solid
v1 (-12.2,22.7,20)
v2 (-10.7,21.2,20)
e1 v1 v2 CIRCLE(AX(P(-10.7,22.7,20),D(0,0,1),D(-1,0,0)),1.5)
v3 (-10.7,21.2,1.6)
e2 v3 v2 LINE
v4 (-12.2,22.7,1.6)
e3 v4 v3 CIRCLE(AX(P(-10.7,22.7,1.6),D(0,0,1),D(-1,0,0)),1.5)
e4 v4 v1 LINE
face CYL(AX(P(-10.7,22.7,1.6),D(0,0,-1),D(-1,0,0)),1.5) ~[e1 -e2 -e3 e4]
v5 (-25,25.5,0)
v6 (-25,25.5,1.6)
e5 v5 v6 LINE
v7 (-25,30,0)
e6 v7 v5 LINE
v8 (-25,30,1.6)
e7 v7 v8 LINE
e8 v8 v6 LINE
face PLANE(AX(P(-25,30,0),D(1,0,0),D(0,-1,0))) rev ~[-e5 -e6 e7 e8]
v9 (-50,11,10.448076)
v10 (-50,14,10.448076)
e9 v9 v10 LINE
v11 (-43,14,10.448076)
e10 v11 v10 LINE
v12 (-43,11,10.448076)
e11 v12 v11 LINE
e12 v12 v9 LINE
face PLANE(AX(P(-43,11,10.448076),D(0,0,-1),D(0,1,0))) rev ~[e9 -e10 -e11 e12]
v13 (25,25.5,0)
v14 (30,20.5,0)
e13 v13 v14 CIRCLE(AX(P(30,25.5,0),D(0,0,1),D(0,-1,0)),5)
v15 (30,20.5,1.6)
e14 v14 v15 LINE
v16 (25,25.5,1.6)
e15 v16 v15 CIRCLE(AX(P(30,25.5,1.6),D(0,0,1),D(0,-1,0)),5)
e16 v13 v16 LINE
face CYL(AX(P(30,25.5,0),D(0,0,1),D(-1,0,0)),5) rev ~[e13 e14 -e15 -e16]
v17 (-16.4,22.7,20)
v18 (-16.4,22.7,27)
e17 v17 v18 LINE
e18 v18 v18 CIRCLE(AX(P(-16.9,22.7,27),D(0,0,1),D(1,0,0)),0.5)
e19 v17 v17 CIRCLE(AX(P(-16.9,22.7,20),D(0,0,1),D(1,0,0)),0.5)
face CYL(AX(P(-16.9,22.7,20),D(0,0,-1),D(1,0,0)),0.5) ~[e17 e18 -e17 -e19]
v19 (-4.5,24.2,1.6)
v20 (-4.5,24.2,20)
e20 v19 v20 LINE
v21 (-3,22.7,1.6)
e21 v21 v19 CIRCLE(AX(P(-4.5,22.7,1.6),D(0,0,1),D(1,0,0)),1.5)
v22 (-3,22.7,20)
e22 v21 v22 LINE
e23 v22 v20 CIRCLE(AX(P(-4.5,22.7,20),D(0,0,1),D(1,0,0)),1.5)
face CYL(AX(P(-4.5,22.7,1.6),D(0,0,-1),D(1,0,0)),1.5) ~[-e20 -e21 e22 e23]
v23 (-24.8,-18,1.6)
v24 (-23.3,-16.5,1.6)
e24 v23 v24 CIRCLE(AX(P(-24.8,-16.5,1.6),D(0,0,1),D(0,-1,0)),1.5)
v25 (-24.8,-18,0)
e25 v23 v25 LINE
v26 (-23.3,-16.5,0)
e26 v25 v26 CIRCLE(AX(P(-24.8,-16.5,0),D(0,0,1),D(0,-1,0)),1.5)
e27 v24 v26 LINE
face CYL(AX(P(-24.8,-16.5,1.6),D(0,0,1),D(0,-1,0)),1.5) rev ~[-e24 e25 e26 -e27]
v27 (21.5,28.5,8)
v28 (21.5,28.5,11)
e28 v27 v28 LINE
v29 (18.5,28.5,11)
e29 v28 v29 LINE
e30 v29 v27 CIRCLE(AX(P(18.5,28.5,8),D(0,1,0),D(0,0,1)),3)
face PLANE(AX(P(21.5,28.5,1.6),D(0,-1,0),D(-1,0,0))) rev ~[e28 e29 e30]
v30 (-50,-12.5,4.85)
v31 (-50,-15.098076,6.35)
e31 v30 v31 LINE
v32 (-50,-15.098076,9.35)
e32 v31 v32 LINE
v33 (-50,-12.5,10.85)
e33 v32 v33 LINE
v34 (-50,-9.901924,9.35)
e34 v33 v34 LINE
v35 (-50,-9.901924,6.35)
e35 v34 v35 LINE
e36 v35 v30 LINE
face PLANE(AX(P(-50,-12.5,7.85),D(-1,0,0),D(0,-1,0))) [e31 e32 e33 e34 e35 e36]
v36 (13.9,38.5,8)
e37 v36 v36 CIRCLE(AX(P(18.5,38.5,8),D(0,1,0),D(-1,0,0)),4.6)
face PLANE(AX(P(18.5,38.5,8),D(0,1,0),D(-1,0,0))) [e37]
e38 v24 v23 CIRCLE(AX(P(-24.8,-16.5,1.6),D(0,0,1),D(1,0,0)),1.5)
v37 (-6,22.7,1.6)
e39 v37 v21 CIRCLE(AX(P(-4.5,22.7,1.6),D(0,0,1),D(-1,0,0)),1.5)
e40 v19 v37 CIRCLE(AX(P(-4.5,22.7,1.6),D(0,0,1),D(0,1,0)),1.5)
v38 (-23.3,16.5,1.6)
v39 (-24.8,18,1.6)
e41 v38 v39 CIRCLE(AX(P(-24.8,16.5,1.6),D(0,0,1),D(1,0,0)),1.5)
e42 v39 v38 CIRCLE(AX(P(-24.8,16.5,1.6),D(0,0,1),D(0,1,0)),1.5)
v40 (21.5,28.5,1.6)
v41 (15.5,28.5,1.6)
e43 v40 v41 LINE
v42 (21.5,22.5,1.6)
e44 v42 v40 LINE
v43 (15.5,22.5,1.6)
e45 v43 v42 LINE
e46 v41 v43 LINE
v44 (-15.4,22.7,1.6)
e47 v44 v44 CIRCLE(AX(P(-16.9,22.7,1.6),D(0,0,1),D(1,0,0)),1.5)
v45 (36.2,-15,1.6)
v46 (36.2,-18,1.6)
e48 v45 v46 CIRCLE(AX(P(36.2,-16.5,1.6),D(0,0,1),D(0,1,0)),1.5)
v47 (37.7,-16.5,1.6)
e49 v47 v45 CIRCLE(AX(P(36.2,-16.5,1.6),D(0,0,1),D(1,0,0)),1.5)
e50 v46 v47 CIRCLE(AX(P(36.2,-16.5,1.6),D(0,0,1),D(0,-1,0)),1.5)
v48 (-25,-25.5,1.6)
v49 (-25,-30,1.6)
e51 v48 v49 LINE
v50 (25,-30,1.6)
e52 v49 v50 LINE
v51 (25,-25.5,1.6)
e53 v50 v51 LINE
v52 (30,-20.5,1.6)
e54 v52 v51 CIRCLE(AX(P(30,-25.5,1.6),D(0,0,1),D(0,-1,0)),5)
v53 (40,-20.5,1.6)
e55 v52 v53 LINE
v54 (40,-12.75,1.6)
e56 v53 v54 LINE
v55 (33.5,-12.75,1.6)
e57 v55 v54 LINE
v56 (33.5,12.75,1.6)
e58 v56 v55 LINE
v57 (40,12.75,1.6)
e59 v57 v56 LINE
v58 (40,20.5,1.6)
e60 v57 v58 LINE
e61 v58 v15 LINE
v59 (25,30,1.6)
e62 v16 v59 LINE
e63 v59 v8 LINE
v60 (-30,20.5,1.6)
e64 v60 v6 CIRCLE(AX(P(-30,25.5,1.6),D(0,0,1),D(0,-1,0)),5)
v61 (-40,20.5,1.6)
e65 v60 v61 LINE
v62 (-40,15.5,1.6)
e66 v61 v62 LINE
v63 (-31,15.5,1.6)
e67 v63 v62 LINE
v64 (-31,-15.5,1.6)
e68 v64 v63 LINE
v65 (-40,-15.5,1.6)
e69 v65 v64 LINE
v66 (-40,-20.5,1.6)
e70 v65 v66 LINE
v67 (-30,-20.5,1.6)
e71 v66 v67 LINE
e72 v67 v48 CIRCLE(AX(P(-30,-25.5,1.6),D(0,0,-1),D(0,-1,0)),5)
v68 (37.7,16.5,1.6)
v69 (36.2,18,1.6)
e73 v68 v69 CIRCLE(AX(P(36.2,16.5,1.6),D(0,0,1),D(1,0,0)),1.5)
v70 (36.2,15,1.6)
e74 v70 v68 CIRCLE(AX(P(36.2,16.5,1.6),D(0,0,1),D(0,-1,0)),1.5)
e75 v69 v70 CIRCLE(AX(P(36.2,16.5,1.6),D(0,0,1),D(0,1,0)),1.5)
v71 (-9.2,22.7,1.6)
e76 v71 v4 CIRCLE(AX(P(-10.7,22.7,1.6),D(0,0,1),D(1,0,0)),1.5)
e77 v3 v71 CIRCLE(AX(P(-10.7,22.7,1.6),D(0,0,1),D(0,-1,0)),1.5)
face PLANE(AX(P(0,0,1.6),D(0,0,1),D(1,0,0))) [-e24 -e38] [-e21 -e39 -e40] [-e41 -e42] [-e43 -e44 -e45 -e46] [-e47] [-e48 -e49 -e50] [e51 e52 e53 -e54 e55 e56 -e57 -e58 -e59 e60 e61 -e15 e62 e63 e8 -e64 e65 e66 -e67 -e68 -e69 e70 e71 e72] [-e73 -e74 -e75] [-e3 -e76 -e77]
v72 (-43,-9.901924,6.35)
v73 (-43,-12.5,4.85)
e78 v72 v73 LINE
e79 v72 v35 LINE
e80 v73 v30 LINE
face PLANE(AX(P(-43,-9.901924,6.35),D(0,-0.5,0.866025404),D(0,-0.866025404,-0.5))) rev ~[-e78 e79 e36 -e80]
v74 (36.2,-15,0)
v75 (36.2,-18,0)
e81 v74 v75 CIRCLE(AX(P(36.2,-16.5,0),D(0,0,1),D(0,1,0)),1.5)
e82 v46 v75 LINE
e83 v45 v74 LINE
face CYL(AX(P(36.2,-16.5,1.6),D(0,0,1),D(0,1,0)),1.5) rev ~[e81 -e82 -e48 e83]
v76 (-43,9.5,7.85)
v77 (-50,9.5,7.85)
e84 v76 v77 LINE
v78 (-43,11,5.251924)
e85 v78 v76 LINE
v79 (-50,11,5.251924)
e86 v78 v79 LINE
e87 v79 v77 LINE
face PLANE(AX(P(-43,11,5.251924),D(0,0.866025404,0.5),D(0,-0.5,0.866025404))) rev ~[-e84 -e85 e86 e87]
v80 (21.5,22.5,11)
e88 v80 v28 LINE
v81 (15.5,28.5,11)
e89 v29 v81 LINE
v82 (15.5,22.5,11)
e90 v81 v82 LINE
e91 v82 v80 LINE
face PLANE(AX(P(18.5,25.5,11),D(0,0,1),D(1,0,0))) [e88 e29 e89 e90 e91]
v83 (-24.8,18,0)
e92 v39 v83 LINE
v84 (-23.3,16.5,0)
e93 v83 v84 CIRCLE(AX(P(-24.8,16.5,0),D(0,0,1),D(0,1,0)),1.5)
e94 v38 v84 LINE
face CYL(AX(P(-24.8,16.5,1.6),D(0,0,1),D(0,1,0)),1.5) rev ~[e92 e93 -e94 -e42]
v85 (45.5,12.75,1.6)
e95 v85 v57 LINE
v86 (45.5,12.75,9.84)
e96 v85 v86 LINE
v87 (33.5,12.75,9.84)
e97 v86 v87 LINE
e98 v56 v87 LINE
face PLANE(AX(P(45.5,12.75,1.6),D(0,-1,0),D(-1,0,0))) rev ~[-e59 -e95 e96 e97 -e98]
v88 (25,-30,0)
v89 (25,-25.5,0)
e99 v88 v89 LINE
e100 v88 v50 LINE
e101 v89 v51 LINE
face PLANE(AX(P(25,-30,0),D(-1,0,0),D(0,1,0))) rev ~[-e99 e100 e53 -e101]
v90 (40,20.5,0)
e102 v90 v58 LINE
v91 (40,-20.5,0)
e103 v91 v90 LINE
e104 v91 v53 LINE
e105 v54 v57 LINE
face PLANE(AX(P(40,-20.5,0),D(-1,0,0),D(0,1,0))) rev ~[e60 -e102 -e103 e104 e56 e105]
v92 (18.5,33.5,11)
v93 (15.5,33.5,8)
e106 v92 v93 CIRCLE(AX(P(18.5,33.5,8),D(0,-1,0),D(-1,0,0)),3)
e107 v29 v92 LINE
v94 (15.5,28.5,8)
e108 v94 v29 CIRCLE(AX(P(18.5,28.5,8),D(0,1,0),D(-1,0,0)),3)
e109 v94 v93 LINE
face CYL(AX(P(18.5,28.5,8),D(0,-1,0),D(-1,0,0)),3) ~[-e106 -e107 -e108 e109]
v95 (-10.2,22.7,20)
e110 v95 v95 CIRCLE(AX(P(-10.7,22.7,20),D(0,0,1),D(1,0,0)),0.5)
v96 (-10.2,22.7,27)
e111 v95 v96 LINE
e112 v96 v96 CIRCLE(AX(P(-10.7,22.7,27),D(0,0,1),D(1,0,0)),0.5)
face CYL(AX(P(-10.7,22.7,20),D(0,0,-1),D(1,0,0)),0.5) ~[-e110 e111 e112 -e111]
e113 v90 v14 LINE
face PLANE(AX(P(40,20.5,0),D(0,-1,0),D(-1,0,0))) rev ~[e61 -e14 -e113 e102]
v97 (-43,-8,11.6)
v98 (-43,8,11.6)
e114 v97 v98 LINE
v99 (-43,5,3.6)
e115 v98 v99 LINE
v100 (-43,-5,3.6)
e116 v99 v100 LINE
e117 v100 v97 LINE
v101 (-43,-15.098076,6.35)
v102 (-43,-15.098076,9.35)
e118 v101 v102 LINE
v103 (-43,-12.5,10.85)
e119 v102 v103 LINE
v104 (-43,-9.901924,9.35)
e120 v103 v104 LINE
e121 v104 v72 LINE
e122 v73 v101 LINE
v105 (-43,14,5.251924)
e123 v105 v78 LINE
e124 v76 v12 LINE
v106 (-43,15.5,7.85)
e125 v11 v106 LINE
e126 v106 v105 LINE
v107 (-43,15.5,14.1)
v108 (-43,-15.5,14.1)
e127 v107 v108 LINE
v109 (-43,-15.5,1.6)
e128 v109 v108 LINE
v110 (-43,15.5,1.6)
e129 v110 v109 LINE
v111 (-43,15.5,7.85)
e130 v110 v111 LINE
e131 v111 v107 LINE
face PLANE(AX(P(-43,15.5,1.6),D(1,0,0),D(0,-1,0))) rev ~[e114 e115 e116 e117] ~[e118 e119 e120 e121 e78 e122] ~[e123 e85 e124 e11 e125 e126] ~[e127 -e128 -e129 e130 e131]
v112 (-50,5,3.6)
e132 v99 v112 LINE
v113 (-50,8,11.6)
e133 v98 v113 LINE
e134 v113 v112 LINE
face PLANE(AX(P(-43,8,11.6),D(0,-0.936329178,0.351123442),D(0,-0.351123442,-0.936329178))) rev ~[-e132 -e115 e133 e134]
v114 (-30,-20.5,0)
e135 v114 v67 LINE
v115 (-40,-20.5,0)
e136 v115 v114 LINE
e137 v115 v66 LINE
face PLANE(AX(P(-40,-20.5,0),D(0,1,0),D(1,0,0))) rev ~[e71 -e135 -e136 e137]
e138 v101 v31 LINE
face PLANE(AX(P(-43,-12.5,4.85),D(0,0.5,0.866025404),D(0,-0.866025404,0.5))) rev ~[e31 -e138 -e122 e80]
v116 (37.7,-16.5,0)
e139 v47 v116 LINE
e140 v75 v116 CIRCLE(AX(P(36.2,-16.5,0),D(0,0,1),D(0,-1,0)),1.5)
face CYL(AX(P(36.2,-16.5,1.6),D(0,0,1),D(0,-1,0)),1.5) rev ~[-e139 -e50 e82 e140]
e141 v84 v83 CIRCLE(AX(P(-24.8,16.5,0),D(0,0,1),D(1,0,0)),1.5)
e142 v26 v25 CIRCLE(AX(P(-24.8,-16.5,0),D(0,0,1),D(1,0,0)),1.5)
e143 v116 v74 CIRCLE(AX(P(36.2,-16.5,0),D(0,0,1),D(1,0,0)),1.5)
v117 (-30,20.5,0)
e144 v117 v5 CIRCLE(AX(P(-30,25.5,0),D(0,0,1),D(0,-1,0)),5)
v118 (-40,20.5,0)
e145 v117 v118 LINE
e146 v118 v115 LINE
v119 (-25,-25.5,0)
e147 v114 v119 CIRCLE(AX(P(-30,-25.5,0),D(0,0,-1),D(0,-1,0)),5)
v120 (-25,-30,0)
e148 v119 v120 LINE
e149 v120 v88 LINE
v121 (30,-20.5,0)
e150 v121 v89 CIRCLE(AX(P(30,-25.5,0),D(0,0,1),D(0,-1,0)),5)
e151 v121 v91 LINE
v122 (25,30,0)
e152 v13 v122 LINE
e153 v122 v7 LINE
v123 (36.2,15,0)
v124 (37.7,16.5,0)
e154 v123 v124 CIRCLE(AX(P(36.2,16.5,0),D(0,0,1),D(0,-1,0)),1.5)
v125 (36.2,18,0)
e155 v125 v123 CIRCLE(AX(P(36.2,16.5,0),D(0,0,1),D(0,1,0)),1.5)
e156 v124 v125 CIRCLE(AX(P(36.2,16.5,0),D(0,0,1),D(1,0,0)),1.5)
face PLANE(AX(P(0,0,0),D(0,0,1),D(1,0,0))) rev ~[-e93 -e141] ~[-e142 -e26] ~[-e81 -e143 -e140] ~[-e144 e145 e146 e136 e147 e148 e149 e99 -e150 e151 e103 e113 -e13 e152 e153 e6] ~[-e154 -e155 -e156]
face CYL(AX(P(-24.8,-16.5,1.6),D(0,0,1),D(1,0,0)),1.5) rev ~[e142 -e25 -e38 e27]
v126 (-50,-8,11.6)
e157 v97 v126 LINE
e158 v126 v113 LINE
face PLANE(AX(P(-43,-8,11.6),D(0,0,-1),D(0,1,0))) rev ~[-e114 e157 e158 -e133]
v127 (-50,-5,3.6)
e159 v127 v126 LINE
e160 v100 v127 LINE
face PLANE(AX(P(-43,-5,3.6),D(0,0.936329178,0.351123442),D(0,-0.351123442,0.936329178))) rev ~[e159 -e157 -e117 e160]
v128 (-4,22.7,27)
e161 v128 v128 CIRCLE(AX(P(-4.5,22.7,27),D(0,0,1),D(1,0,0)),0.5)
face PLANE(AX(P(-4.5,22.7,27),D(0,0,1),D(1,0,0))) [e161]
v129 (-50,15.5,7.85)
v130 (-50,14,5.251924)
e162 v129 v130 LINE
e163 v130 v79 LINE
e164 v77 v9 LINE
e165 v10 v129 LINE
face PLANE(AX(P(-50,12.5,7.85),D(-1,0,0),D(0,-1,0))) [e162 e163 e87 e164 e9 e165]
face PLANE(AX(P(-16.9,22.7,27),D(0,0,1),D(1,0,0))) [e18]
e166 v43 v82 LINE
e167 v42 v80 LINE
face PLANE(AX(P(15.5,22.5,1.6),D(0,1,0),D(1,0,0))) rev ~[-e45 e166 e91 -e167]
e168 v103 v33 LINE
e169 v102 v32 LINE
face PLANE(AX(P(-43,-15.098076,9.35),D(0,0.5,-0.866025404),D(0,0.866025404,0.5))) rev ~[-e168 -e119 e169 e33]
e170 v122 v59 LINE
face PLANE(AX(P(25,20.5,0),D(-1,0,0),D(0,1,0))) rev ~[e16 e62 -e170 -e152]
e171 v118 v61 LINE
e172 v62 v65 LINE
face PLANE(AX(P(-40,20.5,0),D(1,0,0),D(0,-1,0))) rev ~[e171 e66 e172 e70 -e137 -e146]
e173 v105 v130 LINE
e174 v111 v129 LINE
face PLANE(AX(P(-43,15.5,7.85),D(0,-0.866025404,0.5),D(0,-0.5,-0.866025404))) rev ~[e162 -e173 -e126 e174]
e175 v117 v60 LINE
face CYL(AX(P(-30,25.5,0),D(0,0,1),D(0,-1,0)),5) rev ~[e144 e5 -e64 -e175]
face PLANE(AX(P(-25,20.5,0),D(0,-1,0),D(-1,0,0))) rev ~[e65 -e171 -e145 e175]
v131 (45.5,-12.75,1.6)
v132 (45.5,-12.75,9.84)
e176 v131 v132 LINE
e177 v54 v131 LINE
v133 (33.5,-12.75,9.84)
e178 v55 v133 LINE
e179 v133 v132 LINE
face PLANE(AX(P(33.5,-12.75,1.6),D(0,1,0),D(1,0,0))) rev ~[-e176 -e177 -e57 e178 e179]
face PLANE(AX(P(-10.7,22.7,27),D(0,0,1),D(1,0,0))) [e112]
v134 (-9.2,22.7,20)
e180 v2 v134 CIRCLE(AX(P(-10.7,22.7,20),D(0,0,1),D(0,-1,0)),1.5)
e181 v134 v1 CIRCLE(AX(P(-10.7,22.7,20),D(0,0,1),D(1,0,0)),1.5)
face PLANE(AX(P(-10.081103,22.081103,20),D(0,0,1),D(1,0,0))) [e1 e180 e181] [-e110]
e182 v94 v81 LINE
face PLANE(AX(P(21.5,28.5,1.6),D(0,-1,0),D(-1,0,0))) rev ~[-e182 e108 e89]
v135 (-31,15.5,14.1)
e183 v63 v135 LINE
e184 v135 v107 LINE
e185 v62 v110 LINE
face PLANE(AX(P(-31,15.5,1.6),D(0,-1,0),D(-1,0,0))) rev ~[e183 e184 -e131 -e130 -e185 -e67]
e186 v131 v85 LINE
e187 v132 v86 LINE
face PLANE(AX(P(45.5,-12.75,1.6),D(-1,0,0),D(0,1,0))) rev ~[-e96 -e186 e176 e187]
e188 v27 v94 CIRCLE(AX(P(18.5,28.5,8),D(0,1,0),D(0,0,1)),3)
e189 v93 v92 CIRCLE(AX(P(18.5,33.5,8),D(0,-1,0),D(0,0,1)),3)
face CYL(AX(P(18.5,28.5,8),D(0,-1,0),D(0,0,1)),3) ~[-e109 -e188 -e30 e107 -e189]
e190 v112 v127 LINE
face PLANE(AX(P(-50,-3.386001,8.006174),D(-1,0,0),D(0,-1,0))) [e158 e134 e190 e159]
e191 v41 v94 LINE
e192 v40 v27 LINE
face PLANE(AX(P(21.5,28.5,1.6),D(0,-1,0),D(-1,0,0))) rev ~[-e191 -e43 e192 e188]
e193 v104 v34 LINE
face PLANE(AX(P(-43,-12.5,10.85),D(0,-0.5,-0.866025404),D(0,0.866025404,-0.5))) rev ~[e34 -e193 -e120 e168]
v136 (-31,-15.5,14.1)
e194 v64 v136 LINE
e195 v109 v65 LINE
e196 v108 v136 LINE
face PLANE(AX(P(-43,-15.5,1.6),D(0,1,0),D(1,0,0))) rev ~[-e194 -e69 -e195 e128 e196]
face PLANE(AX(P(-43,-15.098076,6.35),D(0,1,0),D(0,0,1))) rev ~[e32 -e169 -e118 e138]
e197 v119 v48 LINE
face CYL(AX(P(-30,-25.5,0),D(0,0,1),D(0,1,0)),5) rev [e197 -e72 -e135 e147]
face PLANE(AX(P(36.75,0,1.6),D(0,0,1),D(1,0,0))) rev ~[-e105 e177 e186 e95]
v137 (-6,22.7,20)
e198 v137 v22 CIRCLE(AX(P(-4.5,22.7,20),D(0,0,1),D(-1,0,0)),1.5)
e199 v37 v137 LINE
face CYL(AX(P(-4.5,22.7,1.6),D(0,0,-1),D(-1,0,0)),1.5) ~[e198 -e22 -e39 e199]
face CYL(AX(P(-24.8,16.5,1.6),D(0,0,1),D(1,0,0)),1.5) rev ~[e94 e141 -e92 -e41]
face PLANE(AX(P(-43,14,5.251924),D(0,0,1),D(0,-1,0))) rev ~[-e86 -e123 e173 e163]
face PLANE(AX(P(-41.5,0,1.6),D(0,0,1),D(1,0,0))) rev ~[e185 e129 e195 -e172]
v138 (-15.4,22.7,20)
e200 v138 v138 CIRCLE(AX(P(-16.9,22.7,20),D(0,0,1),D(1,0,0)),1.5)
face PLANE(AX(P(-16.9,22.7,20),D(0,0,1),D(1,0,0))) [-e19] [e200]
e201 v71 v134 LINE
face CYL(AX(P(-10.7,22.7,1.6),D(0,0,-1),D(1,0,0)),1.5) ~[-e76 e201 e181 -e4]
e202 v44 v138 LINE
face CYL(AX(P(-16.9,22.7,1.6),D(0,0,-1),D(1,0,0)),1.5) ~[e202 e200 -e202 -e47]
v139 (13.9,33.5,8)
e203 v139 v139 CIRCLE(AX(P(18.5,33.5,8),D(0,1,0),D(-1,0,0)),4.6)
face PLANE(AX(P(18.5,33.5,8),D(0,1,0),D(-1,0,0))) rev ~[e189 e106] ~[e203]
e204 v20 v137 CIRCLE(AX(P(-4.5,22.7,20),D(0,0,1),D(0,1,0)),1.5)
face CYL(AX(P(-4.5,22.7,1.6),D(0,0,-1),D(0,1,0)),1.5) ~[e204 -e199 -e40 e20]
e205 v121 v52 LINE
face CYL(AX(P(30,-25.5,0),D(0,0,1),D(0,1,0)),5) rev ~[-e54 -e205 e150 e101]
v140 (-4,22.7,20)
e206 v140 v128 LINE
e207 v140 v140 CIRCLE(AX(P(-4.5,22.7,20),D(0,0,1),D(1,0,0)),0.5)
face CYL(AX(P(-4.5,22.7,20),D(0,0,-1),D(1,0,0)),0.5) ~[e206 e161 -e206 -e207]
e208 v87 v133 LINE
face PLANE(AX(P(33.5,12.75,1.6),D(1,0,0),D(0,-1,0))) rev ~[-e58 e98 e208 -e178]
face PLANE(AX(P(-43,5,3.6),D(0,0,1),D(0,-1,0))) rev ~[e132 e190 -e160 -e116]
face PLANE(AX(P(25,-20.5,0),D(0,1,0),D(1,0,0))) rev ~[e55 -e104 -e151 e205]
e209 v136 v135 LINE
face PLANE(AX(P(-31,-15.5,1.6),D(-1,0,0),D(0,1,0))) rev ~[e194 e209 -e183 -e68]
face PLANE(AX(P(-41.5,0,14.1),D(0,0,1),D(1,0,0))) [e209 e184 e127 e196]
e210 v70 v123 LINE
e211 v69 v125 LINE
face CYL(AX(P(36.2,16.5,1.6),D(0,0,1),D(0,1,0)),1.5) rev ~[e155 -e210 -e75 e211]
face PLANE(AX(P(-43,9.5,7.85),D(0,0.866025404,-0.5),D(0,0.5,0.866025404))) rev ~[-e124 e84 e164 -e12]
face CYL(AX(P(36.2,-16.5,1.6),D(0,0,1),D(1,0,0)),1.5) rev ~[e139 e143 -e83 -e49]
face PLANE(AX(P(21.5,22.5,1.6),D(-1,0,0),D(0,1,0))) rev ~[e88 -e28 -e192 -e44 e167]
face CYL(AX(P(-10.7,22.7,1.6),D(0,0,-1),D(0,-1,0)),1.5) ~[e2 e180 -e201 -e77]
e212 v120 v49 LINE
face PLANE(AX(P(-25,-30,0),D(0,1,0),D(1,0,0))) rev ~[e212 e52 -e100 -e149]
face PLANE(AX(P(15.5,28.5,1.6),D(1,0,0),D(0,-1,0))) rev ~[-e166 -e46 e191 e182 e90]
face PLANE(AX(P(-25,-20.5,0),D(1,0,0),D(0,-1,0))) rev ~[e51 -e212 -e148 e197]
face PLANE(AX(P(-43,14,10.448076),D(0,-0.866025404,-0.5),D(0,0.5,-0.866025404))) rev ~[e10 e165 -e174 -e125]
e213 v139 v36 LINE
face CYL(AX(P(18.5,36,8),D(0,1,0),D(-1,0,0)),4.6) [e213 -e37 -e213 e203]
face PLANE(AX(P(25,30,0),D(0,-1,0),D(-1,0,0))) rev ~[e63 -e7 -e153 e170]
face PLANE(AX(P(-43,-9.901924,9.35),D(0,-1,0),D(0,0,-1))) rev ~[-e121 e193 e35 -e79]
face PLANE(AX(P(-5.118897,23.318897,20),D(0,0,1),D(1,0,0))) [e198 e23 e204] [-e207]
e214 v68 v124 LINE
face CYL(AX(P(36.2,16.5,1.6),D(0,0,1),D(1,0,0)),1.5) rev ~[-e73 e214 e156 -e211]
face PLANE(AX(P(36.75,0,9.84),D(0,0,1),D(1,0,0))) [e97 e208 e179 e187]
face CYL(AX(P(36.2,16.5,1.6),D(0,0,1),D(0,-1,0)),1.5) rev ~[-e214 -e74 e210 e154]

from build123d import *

# Parameters (mm, degrees)
F1_DEPTH  = 1.6
F3_DEPTH  = 8.24
F5_DEPTH  = 12.5
F7_DEPTH  = 7
F9_DEPTH  = 2
F10_R     = 1.5
F11_DEPTH = 18.4
F12_R     = 0.5
F13_DEPTH = 7
F14_R     = 0.5
F15_DEPTH = 7
F17_DEPTH = 1.6
F20_R     = 5
F22_DEPTH = 9.4
F24_DEPTH = 7.5
F25_R     = 4.6
F26_DEPTH = 2.5
F27_R     = 0.5
F28_DEPTH = 7


with BuildPart() as f1:
    # F0 (on Top) → F1 (new body)
    with BuildSketch(Plane.XY):
        Polygon((-25, 20.5), (-40, 20.5), (-40, -20.5), (-25, -20.5), (0, -20.5), (25, -20.5), (40, -20.5), (40, 20.5), (25, 20.5), (0, 20.5), align=None)
        Polygon((-25, 30), (-25, 20.5), (0, 20.5), (25, 20.5), (25, 30), align=None)
        Polygon((0, -20.5), (-25, -20.5), (-25, -30), (25, -30), (25, -20.5), align=None)
    extrude(amount=F1_DEPTH)

    # F2 (on face) → F3 (join)
    with BuildSketch(Plane.XY.offset(1.6)):
        Polygon((40, -12.75), (40, 0), (40, 12.75), (33.5, 12.75), (33.5, -12.75), align=None)
        Polygon((40, 12.75), (40, 0), (40, -12.75), (45.5, -12.75), (45.5, 12.75), align=None)
    extrude(amount=F3_DEPTH)

    # F4 (on face) → F5 (join)
    with BuildSketch(Plane.XY.offset(1.6)):
        Polygon((-40, -15.5), (-40, 0), (-40, 15.5), (-43, 15.5), (-43, -15.5), align=None)
        Polygon((-40, 15.5), (-40, 0), (-40, -15.5), (-31, -15.5), (-31, 15.5), align=None)
    extrude(amount=F5_DEPTH)

    # F6 (on face) → F7 (join)
    with BuildSketch(Plane(origin=(-43, 0, 0), x_dir=(0, -1, 0), z_dir=(-1, 0, 0))):
        Polygon((0, 11.6), (0, 3.6), (5, 3.6), (8, 11.6), align=None)
        Polygon((-5, 3.6), (0, 3.6), (0, 11.6), (-8, 11.6), align=None)
        Polygon((-14, 10.4480762114), (-15.5, 7.85), (-14, 5.2519237886), (-11, 5.2519237886), (-9.5, 7.85), (-11, 10.4480762114), align=None)
        Polygon((15.0980762114, 9.35), (12.5, 10.85), (9.9019237886, 9.35), (9.9019237886, 6.35), (12.5, 4.85), (15.0980762114, 6.35), (15.0980762114, 7.85), align=None)
    extrude(amount=F7_DEPTH)

    # F8 (on face) → F9 (cut)
    with BuildSketch(Plane.XY.offset(1.6)):
        with BuildLine():
            ThreePointArc((37.7, 16.5), (37.2606601718, 17.5606601718), (36.2, 18))
            Line((36.2, 18), (36.2, 16.5))
            Line((36.2, 16.5), (36.2, 15))
            ThreePointArc((36.2, 15), (37.2606601718, 15.4393398282), (37.7, 16.5))
        make_face()
        with BuildLine():
            ThreePointArc((-23.3, -16.5), (-25.8606601718, -15.4393398282), (-24.8, -18))
            ThreePointArc((-24.8, -18), (-23.7393398282, -17.5606601718), (-23.3, -16.5))
        make_face()
        with BuildLine():
            ThreePointArc((37.7, -16.5), (37.2606601718, -15.4393398282), (36.2, -15))
            Line((36.2, -15), (36.2, -16.5))
            Line((36.2, -16.5), (36.2, -18))
            ThreePointArc((36.2, -18), (37.2606601718, -17.5606601718), (37.7, -16.5))
        make_face()
        with BuildLine():
            Line((36.2, -16.5), (36.2, -15))
            ThreePointArc((36.2, -15), (34.7, -16.5), (36.2, -18))
            Line((36.2, -18), (36.2, -16.5))
        make_face()
        with BuildLine():
            Line((36.2, 16.5), (36.2, 18))
            ThreePointArc((36.2, 18), (34.7, 16.5), (36.2, 15))
            Line((36.2, 15), (36.2, 16.5))
        make_face()
        with BuildLine():
            ThreePointArc((-24.8, 18), (-25.8606601718, 15.4393398282), (-23.3, 16.5))
            ThreePointArc((-23.3, 16.5), (-23.7393398282, 17.5606601718), (-24.8, 18))
        make_face()
    extrude(amount=-F9_DEPTH, mode=Mode.SUBTRACT)

    # F10 (on face) → F11 (join)
    with BuildSketch(Plane.XY.offset(1.6)):
        with BuildLine():
            ThreePointArc((-10.7, 21.2), (-9.6393398282, 21.6393398282), (-9.2, 22.7))
            Line((-9.2, 22.7), (-10.7, 22.7))
            Line((-10.7, 22.7), (-10.7, 21.2))
        make_face()
        with BuildLine():
            ThreePointArc((-4.5, 24.2), (-5.5606601718, 23.7606601718), (-6, 22.7))
            Line((-6, 22.7), (-4.5, 22.7))
            Line((-4.5, 22.7), (-4.5, 24.2))
        make_face()
        with BuildLine():
            Line((-4.5, 22.7), (-6, 22.7))
            ThreePointArc((-6, 22.7), (-4.5, 21.2), (-3, 22.7))
            ThreePointArc((-3, 22.7), (-3.4393398282, 23.7606601718), (-4.5, 24.2))
            Line((-4.5, 24.2), (-4.5, 22.7))
        make_face()
        with BuildLine():
            Line((-10.7, 22.7), (-9.2, 22.7))
            ThreePointArc((-9.2, 22.7), (-10.7, 24.2), (-12.2, 22.7))
            Line((-12.2, 22.7), (-10.7, 22.7))
        make_face()
        with Locations((-16.9, 22.7)):
            Circle(F10_R)
        with BuildLine():
            Line((-10.7, 21.2), (-10.7, 22.7))
            Line((-10.7, 22.7), (-12.2, 22.7))
            ThreePointArc((-12.2, 22.7), (-11.7606601718, 21.6393398282), (-10.7, 21.2))
        make_face()
    extrude(amount=F11_DEPTH)

    # F12 (on face) → F13 (join)
    with BuildSketch(Plane.XY.offset(20)):
        with Locations((-10.7, 22.7)):
            Circle(F12_R)
    extrude(amount=F13_DEPTH)

    # F14 (on face) → F15 (join)
    with BuildSketch(Plane.XY.offset(20)):
        with Locations((-4.5, 22.7)):
            Circle(F14_R)
    extrude(amount=F15_DEPTH)

    # F20
    f20_edges = [f1.edges().sort_by_distance(p)[0] for p in [
        (-25, 20.5, 0.8),
        (25, 20.5, 0.8),
        (25, -20.5, 0.8),
        (-25, -20.5, 0.8),
    ]]
    fillet(f20_edges, radius=F20_R)

    # F21 (on face) → F22 (join)
    with BuildSketch(Plane.XY.offset(1.6)):
        Polygon((21.5, 28.5), (18.5, 28.5), (15.5, 28.5), (15.5, 22.5), (21.5, 22.5), align=None)
    extrude(amount=F22_DEPTH)

    # F23 (on face) → F24 (join)
    with BuildSketch(Plane(origin=(0, 28.5, 0), x_dir=(-1, 0, 0), z_dir=(0, 1, 0))):
        with BuildLine():
            ThreePointArc((-18.5, 11), (-20.6213203436, 5.8786796564), (-15.5, 8))
            ThreePointArc((-15.5, 8), (-16.3786796564, 10.1213203436), (-18.5, 11))
        make_face()
    extrude(amount=F24_DEPTH)

    # F25 (on face) → F26 (join, symmetric)
    with BuildSketch(Plane(origin=(0, 36, 0), x_dir=(-1, 0, 0), z_dir=(0, 1, 0))):
        with Locations((-18.5, 8)):
            Circle(F25_R)
    extrude(amount=F26_DEPTH, both=True)

    # F27 (on face) → F28 (join)
    with BuildSketch(Plane.XY.offset(20)):
        with Locations((-16.9, 22.7)):
            Circle(F27_R)
    extrude(amount=F28_DEPTH)


with BuildPart() as f17:
    # F16 (on face) → F17 (new body)
    with BuildSketch(Plane.XY.offset(1.6)):
        Polygon((-57.5, 30), (-57.5, 20.5), (-32.5, 20.5), (-7.5, 20.5), (-7.5, 30), align=None)
    extrude(amount=-F17_DEPTH)


with BuildPart() as f17b:
    # F16 (on face) → F17, piece 2 (new body)
    with BuildSketch(Plane.XY.offset(1.6)):
        Polygon((-7.5, -20.5), (-32.5, -20.5), (-57.5, -20.5), (-57.5, -31.8096540868), (-7.5, -31.8096540868), align=None)
    extrude(amount=-F17_DEPTH)


solid = f1.part
